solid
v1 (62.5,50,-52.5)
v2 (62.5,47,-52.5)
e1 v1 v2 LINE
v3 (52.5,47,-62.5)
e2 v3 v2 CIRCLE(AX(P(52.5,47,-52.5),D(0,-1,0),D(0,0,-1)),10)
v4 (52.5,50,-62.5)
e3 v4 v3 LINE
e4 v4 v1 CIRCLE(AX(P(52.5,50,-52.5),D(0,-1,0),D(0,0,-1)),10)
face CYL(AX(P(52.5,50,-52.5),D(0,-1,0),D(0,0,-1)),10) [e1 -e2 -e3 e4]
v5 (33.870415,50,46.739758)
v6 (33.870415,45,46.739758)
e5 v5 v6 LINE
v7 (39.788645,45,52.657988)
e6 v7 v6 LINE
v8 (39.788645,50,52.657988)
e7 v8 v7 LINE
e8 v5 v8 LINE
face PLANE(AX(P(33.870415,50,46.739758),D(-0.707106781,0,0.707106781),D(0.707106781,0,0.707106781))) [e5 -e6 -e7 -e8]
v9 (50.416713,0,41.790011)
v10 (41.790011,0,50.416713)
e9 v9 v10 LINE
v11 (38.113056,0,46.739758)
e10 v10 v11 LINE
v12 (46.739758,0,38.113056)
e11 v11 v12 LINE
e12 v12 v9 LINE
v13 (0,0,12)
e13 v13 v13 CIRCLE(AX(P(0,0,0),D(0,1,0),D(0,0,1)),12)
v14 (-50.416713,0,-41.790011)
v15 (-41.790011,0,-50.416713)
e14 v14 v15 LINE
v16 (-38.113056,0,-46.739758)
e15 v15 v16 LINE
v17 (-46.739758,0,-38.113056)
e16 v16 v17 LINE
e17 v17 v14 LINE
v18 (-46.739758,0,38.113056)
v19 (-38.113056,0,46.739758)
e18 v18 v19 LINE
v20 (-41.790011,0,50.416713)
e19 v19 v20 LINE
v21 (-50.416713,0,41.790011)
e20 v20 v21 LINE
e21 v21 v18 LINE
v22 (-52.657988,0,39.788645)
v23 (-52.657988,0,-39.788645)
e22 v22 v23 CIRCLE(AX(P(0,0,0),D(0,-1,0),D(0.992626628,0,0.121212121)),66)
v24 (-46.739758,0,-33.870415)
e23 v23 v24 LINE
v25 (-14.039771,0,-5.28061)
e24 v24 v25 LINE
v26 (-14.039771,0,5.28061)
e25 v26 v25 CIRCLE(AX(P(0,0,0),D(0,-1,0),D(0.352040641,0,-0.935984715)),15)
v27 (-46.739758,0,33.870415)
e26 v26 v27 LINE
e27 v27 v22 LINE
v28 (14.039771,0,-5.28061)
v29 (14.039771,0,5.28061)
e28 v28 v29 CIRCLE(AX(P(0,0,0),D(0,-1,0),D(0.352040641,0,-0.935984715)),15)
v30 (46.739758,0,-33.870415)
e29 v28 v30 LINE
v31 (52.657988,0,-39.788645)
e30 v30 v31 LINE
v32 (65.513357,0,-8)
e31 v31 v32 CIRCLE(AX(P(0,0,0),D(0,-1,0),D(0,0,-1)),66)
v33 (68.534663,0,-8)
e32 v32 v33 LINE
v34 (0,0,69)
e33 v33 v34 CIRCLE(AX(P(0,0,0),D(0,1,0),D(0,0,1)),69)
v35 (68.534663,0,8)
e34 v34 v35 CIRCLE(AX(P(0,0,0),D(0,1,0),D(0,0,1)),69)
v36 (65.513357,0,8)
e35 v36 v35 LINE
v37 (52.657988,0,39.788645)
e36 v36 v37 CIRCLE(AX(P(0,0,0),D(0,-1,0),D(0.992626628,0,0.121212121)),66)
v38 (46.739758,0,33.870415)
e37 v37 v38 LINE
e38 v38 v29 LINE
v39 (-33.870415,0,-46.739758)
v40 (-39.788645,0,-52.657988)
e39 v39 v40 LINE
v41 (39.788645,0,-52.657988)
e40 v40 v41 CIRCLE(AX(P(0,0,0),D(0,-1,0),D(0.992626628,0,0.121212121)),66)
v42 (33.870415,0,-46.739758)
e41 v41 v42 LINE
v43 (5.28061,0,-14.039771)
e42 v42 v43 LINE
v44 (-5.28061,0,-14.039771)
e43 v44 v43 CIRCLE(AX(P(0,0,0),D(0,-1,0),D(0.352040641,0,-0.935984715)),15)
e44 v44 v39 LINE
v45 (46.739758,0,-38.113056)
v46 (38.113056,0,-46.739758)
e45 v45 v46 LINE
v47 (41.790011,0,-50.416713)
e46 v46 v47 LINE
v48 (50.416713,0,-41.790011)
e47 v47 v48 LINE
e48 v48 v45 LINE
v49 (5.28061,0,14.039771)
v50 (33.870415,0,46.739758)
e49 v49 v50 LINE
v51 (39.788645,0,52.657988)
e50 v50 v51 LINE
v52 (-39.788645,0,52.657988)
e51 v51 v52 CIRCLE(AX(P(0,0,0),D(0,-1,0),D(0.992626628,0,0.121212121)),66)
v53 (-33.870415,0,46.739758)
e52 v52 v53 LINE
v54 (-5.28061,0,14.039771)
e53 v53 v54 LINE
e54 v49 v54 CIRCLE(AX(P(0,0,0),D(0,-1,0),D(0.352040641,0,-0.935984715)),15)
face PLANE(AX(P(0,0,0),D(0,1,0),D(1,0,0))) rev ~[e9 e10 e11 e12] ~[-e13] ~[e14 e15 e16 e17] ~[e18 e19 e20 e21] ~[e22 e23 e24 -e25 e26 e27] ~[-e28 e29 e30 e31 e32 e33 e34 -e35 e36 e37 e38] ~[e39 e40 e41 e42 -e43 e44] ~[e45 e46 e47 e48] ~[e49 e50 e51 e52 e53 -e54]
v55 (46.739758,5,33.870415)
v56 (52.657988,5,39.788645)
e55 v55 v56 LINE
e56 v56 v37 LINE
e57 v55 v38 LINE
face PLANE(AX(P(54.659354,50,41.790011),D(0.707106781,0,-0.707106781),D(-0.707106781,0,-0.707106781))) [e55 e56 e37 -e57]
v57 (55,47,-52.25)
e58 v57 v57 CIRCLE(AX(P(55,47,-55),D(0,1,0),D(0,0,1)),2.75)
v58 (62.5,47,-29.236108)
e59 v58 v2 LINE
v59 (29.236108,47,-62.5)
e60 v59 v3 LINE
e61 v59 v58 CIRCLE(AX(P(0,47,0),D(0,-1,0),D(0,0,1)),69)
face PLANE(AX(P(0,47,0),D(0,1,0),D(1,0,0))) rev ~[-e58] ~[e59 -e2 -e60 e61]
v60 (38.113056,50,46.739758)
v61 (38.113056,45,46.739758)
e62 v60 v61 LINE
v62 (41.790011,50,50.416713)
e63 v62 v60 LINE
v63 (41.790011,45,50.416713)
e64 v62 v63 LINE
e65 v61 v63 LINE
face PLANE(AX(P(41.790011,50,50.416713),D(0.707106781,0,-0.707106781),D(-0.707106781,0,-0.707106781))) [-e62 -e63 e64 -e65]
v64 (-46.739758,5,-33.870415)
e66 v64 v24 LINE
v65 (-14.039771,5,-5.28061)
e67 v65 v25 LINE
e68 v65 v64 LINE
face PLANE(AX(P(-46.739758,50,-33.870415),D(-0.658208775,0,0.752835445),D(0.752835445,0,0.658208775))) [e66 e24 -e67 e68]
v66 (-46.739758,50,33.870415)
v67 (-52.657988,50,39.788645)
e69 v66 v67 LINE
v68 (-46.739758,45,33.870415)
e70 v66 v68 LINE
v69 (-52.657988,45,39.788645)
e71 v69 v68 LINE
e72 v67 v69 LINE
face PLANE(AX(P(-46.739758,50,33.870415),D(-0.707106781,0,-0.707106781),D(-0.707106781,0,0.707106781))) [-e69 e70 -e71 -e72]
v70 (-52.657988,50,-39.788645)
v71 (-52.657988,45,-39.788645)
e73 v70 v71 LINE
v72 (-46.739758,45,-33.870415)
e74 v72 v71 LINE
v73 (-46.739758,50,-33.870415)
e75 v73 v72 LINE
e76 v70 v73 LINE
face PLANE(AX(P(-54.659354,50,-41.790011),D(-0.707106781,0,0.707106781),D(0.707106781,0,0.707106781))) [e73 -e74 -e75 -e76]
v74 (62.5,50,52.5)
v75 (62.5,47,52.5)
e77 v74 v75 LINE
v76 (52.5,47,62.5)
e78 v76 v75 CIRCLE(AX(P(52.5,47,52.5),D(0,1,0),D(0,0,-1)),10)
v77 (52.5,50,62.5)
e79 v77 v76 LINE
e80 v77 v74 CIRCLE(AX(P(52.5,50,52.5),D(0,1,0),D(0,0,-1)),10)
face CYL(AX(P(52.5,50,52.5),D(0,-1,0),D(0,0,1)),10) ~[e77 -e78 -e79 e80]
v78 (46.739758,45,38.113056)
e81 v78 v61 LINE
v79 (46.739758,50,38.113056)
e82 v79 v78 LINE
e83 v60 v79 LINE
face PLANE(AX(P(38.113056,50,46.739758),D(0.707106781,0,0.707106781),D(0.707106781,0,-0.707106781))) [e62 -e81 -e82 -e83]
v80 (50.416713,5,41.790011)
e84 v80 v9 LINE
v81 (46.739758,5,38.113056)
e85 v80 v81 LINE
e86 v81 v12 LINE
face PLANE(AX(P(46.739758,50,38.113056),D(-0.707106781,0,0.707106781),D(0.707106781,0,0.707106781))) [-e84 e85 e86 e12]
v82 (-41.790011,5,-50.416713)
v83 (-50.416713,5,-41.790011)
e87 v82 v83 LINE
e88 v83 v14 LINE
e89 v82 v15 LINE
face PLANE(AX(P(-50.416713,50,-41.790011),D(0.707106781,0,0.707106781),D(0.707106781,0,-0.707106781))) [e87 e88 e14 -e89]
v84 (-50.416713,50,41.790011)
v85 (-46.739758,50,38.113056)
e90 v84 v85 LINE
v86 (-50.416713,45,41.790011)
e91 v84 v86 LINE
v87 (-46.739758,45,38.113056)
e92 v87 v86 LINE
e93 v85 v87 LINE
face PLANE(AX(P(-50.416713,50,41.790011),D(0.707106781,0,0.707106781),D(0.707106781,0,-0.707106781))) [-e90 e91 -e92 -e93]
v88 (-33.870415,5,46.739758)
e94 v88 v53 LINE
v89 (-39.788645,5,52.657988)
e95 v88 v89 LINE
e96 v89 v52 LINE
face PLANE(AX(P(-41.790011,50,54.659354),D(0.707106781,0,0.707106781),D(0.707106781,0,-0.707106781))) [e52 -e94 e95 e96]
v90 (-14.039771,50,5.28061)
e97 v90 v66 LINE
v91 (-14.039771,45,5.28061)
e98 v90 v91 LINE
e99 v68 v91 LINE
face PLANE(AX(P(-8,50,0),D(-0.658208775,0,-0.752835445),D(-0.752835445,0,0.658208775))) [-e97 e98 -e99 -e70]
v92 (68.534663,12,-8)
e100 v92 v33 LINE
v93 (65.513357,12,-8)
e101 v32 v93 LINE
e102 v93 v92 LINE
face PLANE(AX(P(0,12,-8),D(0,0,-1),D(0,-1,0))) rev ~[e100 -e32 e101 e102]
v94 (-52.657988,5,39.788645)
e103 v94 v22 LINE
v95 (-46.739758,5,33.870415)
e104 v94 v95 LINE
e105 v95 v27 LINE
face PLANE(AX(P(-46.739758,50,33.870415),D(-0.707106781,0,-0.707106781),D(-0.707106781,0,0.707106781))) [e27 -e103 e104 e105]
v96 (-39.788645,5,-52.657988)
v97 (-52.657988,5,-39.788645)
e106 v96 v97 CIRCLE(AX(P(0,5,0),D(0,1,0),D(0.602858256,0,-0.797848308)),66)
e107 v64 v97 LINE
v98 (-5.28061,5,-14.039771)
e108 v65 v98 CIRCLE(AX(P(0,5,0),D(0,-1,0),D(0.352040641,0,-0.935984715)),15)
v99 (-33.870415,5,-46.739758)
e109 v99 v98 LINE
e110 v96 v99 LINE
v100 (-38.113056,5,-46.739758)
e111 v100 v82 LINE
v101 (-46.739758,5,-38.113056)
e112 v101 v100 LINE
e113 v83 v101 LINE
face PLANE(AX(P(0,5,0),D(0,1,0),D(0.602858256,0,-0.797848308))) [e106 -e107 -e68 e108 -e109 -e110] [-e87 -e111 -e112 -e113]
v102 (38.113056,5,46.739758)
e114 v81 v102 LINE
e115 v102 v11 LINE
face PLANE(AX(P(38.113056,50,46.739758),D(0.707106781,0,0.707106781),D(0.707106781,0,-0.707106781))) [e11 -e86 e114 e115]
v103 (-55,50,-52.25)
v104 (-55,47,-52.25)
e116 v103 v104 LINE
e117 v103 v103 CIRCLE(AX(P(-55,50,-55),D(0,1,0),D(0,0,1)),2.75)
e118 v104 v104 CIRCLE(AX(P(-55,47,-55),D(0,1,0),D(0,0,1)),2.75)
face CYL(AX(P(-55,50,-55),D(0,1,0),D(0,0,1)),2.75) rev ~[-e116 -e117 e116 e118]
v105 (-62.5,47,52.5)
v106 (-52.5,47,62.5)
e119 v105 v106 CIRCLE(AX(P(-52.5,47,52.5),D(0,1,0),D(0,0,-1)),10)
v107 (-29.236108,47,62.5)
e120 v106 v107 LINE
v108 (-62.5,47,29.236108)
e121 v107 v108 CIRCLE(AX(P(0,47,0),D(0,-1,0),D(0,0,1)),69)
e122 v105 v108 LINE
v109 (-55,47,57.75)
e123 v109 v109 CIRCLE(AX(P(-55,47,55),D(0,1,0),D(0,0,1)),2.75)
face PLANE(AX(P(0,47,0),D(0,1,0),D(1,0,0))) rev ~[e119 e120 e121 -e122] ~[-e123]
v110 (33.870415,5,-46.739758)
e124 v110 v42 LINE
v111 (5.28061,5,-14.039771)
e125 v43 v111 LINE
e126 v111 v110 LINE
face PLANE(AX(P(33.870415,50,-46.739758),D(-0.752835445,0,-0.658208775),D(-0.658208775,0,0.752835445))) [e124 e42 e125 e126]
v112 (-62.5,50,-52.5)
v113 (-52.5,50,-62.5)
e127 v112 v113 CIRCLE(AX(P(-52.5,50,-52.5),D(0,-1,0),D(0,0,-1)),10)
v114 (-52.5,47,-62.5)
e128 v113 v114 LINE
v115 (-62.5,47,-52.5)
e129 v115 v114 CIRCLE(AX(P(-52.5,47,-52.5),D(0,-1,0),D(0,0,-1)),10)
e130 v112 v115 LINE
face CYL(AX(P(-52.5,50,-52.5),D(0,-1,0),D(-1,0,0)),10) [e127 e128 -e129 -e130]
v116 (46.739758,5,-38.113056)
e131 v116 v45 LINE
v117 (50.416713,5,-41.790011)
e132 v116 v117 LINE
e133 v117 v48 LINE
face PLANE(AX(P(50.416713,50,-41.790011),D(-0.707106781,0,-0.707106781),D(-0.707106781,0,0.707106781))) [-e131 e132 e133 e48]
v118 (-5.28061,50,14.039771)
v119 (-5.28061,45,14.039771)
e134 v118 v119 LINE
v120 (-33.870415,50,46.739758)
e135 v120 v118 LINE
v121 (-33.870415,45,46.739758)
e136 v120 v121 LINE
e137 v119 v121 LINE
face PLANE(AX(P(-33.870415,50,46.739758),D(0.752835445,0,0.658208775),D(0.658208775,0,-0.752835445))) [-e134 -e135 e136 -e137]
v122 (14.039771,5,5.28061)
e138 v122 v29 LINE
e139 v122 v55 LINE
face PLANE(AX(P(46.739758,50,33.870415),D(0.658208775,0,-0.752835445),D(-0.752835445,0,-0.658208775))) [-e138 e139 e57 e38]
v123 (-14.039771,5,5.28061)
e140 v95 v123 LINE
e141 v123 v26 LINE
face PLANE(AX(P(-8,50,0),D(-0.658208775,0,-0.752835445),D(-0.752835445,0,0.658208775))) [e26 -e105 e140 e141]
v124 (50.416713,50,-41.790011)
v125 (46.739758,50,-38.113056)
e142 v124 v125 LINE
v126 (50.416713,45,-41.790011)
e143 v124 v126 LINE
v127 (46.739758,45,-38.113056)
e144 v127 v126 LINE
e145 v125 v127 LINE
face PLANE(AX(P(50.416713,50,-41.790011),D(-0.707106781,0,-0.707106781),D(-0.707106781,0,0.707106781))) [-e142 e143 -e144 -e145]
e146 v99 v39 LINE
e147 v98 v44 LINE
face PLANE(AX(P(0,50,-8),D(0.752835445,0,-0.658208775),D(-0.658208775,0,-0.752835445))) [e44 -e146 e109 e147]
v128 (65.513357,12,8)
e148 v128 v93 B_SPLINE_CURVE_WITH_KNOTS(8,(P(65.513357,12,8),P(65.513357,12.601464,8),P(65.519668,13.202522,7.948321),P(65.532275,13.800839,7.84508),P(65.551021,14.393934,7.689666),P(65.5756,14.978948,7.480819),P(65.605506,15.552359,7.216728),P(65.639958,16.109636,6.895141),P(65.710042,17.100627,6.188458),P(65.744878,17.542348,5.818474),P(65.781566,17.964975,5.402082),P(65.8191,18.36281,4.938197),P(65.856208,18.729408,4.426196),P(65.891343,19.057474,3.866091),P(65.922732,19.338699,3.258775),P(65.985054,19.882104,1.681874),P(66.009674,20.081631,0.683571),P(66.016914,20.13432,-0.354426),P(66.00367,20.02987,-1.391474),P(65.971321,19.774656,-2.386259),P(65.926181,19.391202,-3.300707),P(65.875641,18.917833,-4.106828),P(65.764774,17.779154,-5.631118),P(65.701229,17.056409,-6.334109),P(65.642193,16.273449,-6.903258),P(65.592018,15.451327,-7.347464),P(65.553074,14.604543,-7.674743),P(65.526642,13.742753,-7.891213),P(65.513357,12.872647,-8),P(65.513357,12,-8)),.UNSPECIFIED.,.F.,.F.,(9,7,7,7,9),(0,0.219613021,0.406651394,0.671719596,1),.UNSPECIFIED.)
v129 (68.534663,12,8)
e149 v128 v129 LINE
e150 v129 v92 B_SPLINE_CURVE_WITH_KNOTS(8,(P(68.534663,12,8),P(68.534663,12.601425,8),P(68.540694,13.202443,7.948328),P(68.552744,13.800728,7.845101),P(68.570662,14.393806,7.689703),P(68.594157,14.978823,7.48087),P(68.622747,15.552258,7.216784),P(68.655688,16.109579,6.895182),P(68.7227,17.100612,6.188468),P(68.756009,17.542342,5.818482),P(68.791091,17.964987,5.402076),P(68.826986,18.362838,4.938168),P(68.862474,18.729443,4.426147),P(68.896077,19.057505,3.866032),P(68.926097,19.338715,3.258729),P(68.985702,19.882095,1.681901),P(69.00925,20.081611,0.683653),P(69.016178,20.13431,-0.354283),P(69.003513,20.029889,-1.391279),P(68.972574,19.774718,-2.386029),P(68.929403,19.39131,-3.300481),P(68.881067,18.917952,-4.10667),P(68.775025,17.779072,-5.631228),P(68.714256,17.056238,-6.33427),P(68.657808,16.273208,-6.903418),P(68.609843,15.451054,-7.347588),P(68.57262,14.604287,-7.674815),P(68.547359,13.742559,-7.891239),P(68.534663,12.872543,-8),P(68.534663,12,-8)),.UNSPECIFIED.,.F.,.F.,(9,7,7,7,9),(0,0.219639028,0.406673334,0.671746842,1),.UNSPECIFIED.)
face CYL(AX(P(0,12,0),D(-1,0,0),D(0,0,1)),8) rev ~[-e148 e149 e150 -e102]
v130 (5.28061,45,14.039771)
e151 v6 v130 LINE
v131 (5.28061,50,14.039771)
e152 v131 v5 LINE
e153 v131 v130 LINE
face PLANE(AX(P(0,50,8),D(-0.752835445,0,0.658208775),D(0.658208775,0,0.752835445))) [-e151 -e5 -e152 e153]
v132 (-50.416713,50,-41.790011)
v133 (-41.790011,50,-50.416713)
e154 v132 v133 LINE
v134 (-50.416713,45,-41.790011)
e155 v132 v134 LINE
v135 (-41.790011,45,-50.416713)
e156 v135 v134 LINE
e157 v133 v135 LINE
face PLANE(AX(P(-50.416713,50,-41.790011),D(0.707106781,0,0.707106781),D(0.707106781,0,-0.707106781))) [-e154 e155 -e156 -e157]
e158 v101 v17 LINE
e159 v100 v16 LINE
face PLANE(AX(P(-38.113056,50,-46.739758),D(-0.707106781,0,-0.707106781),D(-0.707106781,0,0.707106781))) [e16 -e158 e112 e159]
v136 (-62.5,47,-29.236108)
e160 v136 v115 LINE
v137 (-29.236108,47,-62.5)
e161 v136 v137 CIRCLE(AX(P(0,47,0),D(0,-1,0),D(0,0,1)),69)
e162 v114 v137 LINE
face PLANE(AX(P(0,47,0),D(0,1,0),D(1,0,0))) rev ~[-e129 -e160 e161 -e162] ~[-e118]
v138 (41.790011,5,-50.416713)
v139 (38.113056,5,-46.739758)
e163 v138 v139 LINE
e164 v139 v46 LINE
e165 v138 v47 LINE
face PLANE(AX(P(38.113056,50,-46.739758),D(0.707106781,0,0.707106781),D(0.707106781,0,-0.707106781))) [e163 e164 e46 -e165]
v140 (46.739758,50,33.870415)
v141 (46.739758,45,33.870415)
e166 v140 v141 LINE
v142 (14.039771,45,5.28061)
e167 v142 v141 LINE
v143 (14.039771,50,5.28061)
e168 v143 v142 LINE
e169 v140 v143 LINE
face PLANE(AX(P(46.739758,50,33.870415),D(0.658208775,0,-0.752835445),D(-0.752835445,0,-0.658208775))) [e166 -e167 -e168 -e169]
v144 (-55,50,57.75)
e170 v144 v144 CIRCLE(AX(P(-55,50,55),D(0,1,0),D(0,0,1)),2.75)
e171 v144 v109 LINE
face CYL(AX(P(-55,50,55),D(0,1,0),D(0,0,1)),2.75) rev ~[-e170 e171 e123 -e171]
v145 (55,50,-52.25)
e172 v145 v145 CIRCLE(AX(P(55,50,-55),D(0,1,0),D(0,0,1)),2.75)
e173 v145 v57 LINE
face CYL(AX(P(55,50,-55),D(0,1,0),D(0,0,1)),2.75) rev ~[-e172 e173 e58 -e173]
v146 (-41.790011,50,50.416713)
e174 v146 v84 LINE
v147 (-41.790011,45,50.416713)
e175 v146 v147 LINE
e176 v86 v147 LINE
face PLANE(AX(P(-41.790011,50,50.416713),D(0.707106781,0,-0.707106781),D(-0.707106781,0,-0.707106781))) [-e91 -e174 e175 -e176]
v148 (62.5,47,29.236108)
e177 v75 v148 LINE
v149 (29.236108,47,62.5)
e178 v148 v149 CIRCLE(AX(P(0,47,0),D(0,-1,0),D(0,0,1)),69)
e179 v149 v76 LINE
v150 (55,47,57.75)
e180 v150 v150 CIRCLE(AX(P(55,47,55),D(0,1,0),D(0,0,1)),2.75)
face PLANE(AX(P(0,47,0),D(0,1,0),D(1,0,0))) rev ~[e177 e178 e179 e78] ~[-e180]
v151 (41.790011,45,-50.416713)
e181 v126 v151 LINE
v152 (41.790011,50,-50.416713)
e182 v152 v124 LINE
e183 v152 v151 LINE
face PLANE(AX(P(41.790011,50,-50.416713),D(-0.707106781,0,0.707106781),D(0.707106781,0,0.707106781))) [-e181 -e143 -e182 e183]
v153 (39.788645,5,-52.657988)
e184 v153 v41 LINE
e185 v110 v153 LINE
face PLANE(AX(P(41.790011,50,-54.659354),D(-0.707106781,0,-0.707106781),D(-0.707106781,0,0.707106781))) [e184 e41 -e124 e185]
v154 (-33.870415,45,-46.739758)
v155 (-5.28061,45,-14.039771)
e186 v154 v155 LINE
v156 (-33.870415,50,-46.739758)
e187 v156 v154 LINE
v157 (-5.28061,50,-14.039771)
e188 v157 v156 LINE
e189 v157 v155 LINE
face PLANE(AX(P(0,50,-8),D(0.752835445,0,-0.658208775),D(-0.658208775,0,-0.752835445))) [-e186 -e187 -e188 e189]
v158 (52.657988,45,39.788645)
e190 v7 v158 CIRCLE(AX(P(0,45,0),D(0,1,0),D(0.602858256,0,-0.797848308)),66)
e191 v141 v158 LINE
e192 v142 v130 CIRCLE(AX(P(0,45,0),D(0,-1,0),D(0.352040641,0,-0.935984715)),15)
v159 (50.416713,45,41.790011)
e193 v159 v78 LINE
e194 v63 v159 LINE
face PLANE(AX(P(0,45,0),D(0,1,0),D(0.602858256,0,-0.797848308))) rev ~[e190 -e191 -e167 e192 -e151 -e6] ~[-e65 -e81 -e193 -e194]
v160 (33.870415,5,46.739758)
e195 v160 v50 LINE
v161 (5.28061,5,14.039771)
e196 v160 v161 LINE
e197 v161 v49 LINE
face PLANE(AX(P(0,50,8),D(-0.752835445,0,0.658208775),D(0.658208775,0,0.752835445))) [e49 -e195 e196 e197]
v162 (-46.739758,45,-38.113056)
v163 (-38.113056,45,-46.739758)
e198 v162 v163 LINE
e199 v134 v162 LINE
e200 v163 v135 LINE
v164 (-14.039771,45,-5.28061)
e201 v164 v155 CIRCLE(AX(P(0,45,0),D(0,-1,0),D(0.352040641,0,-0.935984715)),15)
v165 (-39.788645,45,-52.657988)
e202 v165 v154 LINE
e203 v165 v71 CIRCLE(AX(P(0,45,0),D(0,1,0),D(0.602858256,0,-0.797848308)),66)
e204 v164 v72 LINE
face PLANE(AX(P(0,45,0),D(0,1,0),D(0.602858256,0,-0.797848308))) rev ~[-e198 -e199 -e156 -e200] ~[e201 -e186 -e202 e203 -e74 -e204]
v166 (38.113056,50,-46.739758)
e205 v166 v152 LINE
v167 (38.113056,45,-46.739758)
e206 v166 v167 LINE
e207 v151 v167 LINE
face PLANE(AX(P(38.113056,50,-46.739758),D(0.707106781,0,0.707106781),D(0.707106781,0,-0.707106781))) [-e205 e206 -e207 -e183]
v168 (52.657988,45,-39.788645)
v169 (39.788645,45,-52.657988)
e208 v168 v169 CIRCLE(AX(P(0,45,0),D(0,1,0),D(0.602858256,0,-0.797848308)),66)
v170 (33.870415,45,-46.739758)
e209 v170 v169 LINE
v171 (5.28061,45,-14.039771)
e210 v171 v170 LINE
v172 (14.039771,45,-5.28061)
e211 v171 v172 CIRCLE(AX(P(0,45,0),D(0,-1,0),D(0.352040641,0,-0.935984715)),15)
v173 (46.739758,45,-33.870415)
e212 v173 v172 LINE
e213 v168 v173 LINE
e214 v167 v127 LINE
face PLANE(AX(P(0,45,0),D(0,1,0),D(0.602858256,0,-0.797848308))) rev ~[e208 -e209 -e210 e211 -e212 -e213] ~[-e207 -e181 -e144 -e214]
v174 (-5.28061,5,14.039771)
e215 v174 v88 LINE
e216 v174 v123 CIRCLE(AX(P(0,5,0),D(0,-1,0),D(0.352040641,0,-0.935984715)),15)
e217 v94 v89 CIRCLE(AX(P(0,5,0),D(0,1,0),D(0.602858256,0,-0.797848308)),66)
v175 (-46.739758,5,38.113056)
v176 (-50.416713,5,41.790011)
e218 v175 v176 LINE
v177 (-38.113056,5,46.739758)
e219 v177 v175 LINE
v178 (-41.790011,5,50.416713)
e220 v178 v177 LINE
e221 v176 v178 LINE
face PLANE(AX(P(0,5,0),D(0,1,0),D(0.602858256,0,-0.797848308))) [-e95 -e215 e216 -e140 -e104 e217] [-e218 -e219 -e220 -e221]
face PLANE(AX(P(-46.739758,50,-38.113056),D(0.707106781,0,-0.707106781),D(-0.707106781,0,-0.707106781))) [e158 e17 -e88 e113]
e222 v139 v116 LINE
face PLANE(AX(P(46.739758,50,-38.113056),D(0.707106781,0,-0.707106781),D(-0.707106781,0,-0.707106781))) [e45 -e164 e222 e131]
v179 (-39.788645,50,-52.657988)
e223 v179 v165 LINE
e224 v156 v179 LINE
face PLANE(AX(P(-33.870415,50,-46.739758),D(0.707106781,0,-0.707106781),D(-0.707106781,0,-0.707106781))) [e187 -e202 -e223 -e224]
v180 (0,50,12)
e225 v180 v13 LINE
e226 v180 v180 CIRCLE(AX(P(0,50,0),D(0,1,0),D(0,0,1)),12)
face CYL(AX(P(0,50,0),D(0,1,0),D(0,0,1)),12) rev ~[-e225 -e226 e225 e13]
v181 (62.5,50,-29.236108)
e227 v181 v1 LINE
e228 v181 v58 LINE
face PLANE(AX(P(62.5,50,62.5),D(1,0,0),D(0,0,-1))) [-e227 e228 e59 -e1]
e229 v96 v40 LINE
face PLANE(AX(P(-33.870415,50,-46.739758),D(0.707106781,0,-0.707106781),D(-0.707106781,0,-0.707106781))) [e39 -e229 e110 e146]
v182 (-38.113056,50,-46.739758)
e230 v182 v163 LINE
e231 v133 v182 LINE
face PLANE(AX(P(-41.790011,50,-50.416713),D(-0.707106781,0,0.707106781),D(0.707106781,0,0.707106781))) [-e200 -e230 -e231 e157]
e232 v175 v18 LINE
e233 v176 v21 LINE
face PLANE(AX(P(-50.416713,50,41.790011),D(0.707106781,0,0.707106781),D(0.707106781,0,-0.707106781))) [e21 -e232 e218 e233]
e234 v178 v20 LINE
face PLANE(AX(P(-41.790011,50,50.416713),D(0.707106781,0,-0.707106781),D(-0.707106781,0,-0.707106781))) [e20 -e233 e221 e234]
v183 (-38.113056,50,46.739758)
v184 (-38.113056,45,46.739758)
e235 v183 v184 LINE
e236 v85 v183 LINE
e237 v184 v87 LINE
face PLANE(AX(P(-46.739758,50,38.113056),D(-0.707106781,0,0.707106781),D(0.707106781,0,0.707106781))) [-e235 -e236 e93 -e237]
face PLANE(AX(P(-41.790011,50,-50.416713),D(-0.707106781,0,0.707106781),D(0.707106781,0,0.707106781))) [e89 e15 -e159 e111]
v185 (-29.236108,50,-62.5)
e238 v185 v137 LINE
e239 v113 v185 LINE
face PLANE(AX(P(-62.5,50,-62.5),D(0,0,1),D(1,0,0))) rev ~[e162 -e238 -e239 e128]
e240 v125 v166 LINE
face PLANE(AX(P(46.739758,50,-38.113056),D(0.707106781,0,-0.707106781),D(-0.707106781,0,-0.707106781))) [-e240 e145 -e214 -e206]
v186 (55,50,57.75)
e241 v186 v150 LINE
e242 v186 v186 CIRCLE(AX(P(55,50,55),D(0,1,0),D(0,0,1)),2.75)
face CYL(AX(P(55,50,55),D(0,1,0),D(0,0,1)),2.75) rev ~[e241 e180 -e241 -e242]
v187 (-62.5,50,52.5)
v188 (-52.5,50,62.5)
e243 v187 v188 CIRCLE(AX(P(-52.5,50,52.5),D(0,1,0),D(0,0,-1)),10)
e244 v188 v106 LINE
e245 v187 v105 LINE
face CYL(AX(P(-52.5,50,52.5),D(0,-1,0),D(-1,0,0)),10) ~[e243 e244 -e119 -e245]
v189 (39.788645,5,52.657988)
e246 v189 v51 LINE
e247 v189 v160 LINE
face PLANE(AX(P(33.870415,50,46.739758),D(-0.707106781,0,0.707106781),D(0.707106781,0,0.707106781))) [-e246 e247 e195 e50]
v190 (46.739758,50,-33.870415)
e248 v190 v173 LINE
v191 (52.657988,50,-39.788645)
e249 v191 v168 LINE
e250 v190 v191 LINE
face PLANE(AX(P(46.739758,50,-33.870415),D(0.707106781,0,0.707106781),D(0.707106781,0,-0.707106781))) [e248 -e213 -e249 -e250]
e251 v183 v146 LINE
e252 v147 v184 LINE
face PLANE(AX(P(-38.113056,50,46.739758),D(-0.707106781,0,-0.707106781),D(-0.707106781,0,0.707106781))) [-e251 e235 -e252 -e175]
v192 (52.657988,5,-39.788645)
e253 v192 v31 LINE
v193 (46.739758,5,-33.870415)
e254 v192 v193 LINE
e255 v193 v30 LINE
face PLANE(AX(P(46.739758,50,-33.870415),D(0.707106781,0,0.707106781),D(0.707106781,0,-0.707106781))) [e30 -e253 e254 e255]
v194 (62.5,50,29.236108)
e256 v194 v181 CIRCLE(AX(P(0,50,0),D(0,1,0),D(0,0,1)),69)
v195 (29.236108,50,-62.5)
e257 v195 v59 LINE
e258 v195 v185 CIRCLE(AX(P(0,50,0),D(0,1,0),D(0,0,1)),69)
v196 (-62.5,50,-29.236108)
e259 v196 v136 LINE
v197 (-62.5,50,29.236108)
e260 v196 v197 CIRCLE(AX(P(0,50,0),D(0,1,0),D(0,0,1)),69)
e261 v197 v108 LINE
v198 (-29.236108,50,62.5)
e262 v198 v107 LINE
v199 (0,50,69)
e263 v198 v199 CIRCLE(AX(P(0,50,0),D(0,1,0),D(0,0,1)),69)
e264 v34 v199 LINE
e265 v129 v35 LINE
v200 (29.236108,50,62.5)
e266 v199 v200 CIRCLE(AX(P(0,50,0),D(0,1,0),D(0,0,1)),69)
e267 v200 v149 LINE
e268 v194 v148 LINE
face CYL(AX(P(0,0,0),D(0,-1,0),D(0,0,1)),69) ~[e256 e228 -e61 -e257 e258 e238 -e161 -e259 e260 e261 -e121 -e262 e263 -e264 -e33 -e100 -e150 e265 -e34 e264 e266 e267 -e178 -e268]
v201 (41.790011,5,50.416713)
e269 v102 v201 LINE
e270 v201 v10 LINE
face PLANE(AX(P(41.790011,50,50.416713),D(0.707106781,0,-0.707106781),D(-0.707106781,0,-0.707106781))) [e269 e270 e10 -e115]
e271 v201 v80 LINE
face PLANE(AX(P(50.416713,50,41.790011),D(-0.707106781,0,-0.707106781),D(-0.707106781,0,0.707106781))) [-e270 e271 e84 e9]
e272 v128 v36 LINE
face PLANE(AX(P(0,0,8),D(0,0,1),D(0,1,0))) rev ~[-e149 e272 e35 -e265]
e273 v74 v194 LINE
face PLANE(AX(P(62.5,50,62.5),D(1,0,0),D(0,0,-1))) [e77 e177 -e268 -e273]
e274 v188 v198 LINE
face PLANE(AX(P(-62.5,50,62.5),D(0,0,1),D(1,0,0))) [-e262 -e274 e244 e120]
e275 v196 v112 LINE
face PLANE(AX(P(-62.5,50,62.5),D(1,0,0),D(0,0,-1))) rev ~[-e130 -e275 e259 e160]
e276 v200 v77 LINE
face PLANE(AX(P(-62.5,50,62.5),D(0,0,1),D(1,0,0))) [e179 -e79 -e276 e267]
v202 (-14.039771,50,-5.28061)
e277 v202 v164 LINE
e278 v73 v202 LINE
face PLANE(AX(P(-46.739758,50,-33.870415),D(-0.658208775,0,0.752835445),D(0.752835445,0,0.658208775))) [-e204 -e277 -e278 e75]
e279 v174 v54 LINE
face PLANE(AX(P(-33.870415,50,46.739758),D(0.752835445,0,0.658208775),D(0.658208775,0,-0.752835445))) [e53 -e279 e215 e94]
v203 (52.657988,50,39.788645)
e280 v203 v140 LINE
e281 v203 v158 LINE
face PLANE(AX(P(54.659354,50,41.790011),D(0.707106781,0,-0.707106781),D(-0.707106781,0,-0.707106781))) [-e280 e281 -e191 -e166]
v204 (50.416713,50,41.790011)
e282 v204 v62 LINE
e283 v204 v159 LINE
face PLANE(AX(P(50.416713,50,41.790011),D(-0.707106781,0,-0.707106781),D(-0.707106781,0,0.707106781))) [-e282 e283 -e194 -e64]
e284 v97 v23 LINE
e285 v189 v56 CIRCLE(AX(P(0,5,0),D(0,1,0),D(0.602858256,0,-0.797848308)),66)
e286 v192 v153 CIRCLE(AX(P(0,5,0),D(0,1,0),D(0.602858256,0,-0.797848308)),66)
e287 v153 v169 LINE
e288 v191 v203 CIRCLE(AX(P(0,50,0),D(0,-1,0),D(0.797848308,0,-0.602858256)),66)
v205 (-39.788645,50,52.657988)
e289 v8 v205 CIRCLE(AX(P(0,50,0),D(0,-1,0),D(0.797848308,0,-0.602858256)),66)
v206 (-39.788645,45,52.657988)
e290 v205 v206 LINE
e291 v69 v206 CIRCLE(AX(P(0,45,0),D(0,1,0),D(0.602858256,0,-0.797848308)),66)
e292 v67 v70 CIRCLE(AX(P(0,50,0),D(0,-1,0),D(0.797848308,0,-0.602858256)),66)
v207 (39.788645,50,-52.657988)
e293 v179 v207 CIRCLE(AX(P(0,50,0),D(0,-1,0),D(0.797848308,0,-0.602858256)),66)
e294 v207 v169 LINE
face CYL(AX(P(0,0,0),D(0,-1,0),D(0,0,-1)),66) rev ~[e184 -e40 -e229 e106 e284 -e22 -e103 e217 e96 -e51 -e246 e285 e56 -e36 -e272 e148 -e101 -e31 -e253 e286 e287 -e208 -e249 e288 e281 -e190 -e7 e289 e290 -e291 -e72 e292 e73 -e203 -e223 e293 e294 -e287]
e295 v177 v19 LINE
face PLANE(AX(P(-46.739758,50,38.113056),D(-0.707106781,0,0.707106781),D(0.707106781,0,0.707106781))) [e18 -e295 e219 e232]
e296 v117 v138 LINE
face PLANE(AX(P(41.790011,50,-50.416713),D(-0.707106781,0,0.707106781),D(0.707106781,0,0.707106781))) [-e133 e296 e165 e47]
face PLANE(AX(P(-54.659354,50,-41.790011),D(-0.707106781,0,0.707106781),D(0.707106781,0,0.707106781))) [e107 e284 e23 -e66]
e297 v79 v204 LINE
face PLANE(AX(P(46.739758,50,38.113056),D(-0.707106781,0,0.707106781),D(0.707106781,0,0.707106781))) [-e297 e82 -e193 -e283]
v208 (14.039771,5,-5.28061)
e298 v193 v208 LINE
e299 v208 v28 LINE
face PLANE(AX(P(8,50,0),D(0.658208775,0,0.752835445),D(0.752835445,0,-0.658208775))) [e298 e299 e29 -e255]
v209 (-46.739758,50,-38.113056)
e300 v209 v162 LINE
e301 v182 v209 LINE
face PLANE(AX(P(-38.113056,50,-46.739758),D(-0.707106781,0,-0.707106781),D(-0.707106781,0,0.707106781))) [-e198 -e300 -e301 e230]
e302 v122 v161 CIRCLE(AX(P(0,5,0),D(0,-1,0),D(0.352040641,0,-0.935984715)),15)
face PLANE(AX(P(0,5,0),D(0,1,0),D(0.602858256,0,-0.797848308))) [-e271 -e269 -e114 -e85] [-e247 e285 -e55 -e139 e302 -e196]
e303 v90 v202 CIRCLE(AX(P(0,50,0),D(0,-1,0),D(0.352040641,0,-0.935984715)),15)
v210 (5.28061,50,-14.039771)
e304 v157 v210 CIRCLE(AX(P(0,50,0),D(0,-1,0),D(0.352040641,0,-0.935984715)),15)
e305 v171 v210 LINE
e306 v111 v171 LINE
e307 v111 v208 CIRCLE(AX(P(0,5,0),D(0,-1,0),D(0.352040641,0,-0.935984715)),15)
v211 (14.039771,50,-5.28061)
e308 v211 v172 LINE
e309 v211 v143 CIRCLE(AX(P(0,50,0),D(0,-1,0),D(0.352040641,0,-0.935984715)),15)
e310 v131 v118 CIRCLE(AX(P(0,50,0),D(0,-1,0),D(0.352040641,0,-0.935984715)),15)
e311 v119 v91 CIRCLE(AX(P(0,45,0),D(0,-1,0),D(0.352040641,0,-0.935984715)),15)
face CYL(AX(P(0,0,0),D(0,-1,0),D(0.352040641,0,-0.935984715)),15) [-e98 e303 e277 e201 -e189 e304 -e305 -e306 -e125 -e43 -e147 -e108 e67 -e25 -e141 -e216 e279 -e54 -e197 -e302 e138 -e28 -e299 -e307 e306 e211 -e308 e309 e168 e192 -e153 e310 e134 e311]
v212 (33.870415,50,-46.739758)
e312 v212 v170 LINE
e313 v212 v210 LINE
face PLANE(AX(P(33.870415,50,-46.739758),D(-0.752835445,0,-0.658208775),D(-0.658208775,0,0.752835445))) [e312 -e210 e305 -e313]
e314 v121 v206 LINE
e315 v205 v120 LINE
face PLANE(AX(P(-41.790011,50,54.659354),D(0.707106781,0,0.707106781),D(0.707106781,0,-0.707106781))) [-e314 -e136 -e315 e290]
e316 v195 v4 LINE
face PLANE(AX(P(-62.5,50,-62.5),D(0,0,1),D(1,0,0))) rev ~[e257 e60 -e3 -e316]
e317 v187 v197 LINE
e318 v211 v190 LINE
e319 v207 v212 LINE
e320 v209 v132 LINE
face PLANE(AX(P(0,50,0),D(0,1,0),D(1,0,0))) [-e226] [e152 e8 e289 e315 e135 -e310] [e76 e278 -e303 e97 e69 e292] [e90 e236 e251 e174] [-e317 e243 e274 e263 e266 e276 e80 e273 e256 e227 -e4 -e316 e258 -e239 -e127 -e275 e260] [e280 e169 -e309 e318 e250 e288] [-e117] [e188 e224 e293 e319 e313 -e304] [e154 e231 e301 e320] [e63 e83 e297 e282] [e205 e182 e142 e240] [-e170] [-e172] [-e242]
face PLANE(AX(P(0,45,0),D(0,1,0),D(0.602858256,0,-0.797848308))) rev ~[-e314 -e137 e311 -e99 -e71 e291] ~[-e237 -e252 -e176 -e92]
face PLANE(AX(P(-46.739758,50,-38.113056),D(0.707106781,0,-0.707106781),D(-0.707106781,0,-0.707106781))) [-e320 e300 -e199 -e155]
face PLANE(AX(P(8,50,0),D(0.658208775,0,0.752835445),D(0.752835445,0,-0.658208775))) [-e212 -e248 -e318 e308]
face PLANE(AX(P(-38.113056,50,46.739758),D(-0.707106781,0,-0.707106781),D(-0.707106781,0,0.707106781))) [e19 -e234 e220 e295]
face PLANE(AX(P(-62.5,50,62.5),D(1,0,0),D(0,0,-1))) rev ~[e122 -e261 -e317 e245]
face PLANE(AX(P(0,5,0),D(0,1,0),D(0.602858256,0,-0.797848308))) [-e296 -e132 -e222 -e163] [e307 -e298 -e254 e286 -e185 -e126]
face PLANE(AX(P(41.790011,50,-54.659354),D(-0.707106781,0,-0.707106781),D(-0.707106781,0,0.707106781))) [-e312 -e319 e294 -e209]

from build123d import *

# Parameters (mm, degrees)
SKETCH1_R               = 69
BOSS_EXTRUDE1_DEPTH     = 50
SKETCH2_W               = 125
SKETCH2_H               = 125
BOSS_EXTRUDE2_DEPTH     = 3
SKETCH3_R               = 2.75
CUT_EXTRUDE1_DEPTH      = 3
SKETCH4_R               = 66
CUT_EXTRUDE2_DEPTH      = 110.644881321
FILLET1_R               = 10
CUT_EXTRUDE3_DEPTH      = 110.644881321
BOSS_EXTRUDE4_DEPTH     = 50
CIRPATTERN2_COUNT       = 4
BOSS_EXTRUDE5_DEPTH     = 50
CUT_EXTRUDE4_DEPTH      = 20
CUT_EXTRUDE4_DEPTH_BACK = 20
SKETCH10_R              = 66
SKETCH11_R              = 15
BOSS_EXTRUDE6_DEPTH     = 50
SKETCH14_R              = 12
CUT_EXTRUDE6_DEPTH      = 110.644881494


with BuildPart() as part:
    # Sketch1 → Boss-Extrude1 (new body)
    with BuildSketch(Plane(origin=(0, 0, 0), x_dir=(1, 0, 0), z_dir=(0, 1, 0))):
        with Locations(Location((0, 0, 0), (0, 0, 270))):
            Circle(SKETCH1_R)
    extrude(amount=BOSS_EXTRUDE1_DEPTH)

    # Sketch2 → Boss-Extrude2 (add)
    with BuildSketch(Plane(origin=(0, 50, 0), x_dir=(1, 0, 0), z_dir=(0, 1, 0))):
        Rectangle(SKETCH2_W, SKETCH2_H)
    extrude(amount=-BOSS_EXTRUDE2_DEPTH)

    # Sketch3 → Cut-Extrude1 (cut)
    with BuildSketch(Plane(origin=(0, 50, 0), x_dir=(1, 0, 0), z_dir=(0, 1, 0))):
        with Locations(Location((55, 55, 0), (0, 0, 270))):
            Circle(SKETCH3_R)
        with Locations(Location((-55, 55, 0), (0, 0, 270))):
            Circle(SKETCH3_R)
        with Locations(Location((-55, -55, 0), (0, 0, 270))):
            Circle(SKETCH3_R)
        with Locations(Location((55, -55, 0), (0, 0, 270))):
            Circle(SKETCH3_R)
    extrude(amount=-CUT_EXTRUDE1_DEPTH, mode=Mode.SUBTRACT)

    # Sketch4 → Cut-Extrude2 (cut, through all)
    with BuildSketch(Plane.XZ):
        with Locations(Location((0, 0, 0), (0, 0, 270))):
            Circle(SKETCH4_R)
    extrude(amount=-CUT_EXTRUDE2_DEPTH, mode=Mode.SUBTRACT)

    # Fillet1
    fillet1_edges = [part.edges().sort_by_distance(p)[0] for p in [
        (-62.5, 48.5, 62.5),
        (-62.5, 48.5, -62.5),
        (62.5, 48.5, -62.5),
        (62.5, 48.5, 62.5),
    ]]
    fillet(fillet1_edges, radius=FILLET1_R)

    # Sketch6 → Cut-Extrude3 (cut, through all)
    with BuildSketch(Plane(origin=(0, 0, 0), x_dir=(0, 0, -1), z_dir=(1, 0, 0))):
        with BuildLine():
            Line((-8, 0), (-8, 12))
            ThreePointArc((-8, 12), (0, 20), (8, 12))
            Line((8, 12), (8, 0))
            ThreePointArc((8, 0), (0, -8), (-8, 0))
        make_face()
    extrude(amount=CUT_EXTRUDE3_DEPTH, mode=Mode.SUBTRACT)

    # Sketch8 → Boss-Extrude4 (add)
    with BuildSketch(Plane(origin=(0, 50, 0), x_dir=(1, 0, 0), z_dir=(0, 1, 0))):
        Polygon((41.790010768, 54.659354186), (33.870414819, 46.739758236), (46.739758236, 33.870414819), (54.659354186, 41.790010768), align=None)
        Polygon((41.790010768, 50.416713499), (50.416713499, 41.790010768), (46.739758236, 38.113055506), (38.113055506, 46.739758236), align=None, mode=Mode.SUBTRACT)
    boss_extrude4 = extrude(amount=-BOSS_EXTRUDE4_DEPTH)

    # CirPattern2: Boss-Extrude4 ×4 about axis
    cirpattern2_axis = Axis((0, 0, 0), (0, 1, 0))
    for i in range(1, CIRPATTERN2_COUNT):
        add(boss_extrude4.rotate(cirpattern2_axis, i * 360 / CIRPATTERN2_COUNT))

    # Sketch9 → Boss-Extrude5 (add)
    with BuildSketch(Plane(origin=(0, 50, 0), x_dir=(1, 0, 0), z_dir=(0, 1, 0))):
        Polygon((46.739758236, 33.870414819), (33.870414819, 46.739758236), (0, 8), (-33.870414819, 46.739758236), (-46.739758236, 33.870414819), (-8, 0), (-46.739758236, -33.870414819), (-33.870414819, -46.739758236), (0, -8), (33.870414819, -46.739758236), (46.739758236, -33.870414819), (8, 0), align=None)
    extrude(amount=-BOSS_EXTRUDE5_DEPTH)

    # Sketch10 → Cut-Extrude4 (cut, two sides: drawn at the far end of the back side and taken through both)
    with BuildSketch(Plane(origin=(0, 25, 0), x_dir=(1, 0, 0), z_dir=(0, 1, 0)).offset(-CUT_EXTRUDE4_DEPTH_BACK)):
        with Locations(Location((0, 0, 0), (0, 0, 52.925119379))):
            Circle(SKETCH10_R)
    extrude(amount=CUT_EXTRUDE4_DEPTH + CUT_EXTRUDE4_DEPTH_BACK, mode=Mode.SUBTRACT)

    # Sketch11 → Boss-Extrude6 (add)
    with BuildSketch(Plane.XZ):
        with Locations(Location((0, 0, 0), (0, 0, 290.612180744))):
            Circle(SKETCH11_R)
    extrude(amount=-BOSS_EXTRUDE6_DEPTH)

    # Sketch14 → Cut-Extrude6 (cut, through all)
    with BuildSketch(Plane(origin=(0, 50, 0), x_dir=(1, 0, 0), z_dir=(0, 1, 0))):
        with Locations(Location((0, 0, 0), (0, 0, 270))):
            Circle(SKETCH14_R)
    extrude(amount=-CUT_EXTRUDE6_DEPTH, mode=Mode.SUBTRACT)


solid = part.part
